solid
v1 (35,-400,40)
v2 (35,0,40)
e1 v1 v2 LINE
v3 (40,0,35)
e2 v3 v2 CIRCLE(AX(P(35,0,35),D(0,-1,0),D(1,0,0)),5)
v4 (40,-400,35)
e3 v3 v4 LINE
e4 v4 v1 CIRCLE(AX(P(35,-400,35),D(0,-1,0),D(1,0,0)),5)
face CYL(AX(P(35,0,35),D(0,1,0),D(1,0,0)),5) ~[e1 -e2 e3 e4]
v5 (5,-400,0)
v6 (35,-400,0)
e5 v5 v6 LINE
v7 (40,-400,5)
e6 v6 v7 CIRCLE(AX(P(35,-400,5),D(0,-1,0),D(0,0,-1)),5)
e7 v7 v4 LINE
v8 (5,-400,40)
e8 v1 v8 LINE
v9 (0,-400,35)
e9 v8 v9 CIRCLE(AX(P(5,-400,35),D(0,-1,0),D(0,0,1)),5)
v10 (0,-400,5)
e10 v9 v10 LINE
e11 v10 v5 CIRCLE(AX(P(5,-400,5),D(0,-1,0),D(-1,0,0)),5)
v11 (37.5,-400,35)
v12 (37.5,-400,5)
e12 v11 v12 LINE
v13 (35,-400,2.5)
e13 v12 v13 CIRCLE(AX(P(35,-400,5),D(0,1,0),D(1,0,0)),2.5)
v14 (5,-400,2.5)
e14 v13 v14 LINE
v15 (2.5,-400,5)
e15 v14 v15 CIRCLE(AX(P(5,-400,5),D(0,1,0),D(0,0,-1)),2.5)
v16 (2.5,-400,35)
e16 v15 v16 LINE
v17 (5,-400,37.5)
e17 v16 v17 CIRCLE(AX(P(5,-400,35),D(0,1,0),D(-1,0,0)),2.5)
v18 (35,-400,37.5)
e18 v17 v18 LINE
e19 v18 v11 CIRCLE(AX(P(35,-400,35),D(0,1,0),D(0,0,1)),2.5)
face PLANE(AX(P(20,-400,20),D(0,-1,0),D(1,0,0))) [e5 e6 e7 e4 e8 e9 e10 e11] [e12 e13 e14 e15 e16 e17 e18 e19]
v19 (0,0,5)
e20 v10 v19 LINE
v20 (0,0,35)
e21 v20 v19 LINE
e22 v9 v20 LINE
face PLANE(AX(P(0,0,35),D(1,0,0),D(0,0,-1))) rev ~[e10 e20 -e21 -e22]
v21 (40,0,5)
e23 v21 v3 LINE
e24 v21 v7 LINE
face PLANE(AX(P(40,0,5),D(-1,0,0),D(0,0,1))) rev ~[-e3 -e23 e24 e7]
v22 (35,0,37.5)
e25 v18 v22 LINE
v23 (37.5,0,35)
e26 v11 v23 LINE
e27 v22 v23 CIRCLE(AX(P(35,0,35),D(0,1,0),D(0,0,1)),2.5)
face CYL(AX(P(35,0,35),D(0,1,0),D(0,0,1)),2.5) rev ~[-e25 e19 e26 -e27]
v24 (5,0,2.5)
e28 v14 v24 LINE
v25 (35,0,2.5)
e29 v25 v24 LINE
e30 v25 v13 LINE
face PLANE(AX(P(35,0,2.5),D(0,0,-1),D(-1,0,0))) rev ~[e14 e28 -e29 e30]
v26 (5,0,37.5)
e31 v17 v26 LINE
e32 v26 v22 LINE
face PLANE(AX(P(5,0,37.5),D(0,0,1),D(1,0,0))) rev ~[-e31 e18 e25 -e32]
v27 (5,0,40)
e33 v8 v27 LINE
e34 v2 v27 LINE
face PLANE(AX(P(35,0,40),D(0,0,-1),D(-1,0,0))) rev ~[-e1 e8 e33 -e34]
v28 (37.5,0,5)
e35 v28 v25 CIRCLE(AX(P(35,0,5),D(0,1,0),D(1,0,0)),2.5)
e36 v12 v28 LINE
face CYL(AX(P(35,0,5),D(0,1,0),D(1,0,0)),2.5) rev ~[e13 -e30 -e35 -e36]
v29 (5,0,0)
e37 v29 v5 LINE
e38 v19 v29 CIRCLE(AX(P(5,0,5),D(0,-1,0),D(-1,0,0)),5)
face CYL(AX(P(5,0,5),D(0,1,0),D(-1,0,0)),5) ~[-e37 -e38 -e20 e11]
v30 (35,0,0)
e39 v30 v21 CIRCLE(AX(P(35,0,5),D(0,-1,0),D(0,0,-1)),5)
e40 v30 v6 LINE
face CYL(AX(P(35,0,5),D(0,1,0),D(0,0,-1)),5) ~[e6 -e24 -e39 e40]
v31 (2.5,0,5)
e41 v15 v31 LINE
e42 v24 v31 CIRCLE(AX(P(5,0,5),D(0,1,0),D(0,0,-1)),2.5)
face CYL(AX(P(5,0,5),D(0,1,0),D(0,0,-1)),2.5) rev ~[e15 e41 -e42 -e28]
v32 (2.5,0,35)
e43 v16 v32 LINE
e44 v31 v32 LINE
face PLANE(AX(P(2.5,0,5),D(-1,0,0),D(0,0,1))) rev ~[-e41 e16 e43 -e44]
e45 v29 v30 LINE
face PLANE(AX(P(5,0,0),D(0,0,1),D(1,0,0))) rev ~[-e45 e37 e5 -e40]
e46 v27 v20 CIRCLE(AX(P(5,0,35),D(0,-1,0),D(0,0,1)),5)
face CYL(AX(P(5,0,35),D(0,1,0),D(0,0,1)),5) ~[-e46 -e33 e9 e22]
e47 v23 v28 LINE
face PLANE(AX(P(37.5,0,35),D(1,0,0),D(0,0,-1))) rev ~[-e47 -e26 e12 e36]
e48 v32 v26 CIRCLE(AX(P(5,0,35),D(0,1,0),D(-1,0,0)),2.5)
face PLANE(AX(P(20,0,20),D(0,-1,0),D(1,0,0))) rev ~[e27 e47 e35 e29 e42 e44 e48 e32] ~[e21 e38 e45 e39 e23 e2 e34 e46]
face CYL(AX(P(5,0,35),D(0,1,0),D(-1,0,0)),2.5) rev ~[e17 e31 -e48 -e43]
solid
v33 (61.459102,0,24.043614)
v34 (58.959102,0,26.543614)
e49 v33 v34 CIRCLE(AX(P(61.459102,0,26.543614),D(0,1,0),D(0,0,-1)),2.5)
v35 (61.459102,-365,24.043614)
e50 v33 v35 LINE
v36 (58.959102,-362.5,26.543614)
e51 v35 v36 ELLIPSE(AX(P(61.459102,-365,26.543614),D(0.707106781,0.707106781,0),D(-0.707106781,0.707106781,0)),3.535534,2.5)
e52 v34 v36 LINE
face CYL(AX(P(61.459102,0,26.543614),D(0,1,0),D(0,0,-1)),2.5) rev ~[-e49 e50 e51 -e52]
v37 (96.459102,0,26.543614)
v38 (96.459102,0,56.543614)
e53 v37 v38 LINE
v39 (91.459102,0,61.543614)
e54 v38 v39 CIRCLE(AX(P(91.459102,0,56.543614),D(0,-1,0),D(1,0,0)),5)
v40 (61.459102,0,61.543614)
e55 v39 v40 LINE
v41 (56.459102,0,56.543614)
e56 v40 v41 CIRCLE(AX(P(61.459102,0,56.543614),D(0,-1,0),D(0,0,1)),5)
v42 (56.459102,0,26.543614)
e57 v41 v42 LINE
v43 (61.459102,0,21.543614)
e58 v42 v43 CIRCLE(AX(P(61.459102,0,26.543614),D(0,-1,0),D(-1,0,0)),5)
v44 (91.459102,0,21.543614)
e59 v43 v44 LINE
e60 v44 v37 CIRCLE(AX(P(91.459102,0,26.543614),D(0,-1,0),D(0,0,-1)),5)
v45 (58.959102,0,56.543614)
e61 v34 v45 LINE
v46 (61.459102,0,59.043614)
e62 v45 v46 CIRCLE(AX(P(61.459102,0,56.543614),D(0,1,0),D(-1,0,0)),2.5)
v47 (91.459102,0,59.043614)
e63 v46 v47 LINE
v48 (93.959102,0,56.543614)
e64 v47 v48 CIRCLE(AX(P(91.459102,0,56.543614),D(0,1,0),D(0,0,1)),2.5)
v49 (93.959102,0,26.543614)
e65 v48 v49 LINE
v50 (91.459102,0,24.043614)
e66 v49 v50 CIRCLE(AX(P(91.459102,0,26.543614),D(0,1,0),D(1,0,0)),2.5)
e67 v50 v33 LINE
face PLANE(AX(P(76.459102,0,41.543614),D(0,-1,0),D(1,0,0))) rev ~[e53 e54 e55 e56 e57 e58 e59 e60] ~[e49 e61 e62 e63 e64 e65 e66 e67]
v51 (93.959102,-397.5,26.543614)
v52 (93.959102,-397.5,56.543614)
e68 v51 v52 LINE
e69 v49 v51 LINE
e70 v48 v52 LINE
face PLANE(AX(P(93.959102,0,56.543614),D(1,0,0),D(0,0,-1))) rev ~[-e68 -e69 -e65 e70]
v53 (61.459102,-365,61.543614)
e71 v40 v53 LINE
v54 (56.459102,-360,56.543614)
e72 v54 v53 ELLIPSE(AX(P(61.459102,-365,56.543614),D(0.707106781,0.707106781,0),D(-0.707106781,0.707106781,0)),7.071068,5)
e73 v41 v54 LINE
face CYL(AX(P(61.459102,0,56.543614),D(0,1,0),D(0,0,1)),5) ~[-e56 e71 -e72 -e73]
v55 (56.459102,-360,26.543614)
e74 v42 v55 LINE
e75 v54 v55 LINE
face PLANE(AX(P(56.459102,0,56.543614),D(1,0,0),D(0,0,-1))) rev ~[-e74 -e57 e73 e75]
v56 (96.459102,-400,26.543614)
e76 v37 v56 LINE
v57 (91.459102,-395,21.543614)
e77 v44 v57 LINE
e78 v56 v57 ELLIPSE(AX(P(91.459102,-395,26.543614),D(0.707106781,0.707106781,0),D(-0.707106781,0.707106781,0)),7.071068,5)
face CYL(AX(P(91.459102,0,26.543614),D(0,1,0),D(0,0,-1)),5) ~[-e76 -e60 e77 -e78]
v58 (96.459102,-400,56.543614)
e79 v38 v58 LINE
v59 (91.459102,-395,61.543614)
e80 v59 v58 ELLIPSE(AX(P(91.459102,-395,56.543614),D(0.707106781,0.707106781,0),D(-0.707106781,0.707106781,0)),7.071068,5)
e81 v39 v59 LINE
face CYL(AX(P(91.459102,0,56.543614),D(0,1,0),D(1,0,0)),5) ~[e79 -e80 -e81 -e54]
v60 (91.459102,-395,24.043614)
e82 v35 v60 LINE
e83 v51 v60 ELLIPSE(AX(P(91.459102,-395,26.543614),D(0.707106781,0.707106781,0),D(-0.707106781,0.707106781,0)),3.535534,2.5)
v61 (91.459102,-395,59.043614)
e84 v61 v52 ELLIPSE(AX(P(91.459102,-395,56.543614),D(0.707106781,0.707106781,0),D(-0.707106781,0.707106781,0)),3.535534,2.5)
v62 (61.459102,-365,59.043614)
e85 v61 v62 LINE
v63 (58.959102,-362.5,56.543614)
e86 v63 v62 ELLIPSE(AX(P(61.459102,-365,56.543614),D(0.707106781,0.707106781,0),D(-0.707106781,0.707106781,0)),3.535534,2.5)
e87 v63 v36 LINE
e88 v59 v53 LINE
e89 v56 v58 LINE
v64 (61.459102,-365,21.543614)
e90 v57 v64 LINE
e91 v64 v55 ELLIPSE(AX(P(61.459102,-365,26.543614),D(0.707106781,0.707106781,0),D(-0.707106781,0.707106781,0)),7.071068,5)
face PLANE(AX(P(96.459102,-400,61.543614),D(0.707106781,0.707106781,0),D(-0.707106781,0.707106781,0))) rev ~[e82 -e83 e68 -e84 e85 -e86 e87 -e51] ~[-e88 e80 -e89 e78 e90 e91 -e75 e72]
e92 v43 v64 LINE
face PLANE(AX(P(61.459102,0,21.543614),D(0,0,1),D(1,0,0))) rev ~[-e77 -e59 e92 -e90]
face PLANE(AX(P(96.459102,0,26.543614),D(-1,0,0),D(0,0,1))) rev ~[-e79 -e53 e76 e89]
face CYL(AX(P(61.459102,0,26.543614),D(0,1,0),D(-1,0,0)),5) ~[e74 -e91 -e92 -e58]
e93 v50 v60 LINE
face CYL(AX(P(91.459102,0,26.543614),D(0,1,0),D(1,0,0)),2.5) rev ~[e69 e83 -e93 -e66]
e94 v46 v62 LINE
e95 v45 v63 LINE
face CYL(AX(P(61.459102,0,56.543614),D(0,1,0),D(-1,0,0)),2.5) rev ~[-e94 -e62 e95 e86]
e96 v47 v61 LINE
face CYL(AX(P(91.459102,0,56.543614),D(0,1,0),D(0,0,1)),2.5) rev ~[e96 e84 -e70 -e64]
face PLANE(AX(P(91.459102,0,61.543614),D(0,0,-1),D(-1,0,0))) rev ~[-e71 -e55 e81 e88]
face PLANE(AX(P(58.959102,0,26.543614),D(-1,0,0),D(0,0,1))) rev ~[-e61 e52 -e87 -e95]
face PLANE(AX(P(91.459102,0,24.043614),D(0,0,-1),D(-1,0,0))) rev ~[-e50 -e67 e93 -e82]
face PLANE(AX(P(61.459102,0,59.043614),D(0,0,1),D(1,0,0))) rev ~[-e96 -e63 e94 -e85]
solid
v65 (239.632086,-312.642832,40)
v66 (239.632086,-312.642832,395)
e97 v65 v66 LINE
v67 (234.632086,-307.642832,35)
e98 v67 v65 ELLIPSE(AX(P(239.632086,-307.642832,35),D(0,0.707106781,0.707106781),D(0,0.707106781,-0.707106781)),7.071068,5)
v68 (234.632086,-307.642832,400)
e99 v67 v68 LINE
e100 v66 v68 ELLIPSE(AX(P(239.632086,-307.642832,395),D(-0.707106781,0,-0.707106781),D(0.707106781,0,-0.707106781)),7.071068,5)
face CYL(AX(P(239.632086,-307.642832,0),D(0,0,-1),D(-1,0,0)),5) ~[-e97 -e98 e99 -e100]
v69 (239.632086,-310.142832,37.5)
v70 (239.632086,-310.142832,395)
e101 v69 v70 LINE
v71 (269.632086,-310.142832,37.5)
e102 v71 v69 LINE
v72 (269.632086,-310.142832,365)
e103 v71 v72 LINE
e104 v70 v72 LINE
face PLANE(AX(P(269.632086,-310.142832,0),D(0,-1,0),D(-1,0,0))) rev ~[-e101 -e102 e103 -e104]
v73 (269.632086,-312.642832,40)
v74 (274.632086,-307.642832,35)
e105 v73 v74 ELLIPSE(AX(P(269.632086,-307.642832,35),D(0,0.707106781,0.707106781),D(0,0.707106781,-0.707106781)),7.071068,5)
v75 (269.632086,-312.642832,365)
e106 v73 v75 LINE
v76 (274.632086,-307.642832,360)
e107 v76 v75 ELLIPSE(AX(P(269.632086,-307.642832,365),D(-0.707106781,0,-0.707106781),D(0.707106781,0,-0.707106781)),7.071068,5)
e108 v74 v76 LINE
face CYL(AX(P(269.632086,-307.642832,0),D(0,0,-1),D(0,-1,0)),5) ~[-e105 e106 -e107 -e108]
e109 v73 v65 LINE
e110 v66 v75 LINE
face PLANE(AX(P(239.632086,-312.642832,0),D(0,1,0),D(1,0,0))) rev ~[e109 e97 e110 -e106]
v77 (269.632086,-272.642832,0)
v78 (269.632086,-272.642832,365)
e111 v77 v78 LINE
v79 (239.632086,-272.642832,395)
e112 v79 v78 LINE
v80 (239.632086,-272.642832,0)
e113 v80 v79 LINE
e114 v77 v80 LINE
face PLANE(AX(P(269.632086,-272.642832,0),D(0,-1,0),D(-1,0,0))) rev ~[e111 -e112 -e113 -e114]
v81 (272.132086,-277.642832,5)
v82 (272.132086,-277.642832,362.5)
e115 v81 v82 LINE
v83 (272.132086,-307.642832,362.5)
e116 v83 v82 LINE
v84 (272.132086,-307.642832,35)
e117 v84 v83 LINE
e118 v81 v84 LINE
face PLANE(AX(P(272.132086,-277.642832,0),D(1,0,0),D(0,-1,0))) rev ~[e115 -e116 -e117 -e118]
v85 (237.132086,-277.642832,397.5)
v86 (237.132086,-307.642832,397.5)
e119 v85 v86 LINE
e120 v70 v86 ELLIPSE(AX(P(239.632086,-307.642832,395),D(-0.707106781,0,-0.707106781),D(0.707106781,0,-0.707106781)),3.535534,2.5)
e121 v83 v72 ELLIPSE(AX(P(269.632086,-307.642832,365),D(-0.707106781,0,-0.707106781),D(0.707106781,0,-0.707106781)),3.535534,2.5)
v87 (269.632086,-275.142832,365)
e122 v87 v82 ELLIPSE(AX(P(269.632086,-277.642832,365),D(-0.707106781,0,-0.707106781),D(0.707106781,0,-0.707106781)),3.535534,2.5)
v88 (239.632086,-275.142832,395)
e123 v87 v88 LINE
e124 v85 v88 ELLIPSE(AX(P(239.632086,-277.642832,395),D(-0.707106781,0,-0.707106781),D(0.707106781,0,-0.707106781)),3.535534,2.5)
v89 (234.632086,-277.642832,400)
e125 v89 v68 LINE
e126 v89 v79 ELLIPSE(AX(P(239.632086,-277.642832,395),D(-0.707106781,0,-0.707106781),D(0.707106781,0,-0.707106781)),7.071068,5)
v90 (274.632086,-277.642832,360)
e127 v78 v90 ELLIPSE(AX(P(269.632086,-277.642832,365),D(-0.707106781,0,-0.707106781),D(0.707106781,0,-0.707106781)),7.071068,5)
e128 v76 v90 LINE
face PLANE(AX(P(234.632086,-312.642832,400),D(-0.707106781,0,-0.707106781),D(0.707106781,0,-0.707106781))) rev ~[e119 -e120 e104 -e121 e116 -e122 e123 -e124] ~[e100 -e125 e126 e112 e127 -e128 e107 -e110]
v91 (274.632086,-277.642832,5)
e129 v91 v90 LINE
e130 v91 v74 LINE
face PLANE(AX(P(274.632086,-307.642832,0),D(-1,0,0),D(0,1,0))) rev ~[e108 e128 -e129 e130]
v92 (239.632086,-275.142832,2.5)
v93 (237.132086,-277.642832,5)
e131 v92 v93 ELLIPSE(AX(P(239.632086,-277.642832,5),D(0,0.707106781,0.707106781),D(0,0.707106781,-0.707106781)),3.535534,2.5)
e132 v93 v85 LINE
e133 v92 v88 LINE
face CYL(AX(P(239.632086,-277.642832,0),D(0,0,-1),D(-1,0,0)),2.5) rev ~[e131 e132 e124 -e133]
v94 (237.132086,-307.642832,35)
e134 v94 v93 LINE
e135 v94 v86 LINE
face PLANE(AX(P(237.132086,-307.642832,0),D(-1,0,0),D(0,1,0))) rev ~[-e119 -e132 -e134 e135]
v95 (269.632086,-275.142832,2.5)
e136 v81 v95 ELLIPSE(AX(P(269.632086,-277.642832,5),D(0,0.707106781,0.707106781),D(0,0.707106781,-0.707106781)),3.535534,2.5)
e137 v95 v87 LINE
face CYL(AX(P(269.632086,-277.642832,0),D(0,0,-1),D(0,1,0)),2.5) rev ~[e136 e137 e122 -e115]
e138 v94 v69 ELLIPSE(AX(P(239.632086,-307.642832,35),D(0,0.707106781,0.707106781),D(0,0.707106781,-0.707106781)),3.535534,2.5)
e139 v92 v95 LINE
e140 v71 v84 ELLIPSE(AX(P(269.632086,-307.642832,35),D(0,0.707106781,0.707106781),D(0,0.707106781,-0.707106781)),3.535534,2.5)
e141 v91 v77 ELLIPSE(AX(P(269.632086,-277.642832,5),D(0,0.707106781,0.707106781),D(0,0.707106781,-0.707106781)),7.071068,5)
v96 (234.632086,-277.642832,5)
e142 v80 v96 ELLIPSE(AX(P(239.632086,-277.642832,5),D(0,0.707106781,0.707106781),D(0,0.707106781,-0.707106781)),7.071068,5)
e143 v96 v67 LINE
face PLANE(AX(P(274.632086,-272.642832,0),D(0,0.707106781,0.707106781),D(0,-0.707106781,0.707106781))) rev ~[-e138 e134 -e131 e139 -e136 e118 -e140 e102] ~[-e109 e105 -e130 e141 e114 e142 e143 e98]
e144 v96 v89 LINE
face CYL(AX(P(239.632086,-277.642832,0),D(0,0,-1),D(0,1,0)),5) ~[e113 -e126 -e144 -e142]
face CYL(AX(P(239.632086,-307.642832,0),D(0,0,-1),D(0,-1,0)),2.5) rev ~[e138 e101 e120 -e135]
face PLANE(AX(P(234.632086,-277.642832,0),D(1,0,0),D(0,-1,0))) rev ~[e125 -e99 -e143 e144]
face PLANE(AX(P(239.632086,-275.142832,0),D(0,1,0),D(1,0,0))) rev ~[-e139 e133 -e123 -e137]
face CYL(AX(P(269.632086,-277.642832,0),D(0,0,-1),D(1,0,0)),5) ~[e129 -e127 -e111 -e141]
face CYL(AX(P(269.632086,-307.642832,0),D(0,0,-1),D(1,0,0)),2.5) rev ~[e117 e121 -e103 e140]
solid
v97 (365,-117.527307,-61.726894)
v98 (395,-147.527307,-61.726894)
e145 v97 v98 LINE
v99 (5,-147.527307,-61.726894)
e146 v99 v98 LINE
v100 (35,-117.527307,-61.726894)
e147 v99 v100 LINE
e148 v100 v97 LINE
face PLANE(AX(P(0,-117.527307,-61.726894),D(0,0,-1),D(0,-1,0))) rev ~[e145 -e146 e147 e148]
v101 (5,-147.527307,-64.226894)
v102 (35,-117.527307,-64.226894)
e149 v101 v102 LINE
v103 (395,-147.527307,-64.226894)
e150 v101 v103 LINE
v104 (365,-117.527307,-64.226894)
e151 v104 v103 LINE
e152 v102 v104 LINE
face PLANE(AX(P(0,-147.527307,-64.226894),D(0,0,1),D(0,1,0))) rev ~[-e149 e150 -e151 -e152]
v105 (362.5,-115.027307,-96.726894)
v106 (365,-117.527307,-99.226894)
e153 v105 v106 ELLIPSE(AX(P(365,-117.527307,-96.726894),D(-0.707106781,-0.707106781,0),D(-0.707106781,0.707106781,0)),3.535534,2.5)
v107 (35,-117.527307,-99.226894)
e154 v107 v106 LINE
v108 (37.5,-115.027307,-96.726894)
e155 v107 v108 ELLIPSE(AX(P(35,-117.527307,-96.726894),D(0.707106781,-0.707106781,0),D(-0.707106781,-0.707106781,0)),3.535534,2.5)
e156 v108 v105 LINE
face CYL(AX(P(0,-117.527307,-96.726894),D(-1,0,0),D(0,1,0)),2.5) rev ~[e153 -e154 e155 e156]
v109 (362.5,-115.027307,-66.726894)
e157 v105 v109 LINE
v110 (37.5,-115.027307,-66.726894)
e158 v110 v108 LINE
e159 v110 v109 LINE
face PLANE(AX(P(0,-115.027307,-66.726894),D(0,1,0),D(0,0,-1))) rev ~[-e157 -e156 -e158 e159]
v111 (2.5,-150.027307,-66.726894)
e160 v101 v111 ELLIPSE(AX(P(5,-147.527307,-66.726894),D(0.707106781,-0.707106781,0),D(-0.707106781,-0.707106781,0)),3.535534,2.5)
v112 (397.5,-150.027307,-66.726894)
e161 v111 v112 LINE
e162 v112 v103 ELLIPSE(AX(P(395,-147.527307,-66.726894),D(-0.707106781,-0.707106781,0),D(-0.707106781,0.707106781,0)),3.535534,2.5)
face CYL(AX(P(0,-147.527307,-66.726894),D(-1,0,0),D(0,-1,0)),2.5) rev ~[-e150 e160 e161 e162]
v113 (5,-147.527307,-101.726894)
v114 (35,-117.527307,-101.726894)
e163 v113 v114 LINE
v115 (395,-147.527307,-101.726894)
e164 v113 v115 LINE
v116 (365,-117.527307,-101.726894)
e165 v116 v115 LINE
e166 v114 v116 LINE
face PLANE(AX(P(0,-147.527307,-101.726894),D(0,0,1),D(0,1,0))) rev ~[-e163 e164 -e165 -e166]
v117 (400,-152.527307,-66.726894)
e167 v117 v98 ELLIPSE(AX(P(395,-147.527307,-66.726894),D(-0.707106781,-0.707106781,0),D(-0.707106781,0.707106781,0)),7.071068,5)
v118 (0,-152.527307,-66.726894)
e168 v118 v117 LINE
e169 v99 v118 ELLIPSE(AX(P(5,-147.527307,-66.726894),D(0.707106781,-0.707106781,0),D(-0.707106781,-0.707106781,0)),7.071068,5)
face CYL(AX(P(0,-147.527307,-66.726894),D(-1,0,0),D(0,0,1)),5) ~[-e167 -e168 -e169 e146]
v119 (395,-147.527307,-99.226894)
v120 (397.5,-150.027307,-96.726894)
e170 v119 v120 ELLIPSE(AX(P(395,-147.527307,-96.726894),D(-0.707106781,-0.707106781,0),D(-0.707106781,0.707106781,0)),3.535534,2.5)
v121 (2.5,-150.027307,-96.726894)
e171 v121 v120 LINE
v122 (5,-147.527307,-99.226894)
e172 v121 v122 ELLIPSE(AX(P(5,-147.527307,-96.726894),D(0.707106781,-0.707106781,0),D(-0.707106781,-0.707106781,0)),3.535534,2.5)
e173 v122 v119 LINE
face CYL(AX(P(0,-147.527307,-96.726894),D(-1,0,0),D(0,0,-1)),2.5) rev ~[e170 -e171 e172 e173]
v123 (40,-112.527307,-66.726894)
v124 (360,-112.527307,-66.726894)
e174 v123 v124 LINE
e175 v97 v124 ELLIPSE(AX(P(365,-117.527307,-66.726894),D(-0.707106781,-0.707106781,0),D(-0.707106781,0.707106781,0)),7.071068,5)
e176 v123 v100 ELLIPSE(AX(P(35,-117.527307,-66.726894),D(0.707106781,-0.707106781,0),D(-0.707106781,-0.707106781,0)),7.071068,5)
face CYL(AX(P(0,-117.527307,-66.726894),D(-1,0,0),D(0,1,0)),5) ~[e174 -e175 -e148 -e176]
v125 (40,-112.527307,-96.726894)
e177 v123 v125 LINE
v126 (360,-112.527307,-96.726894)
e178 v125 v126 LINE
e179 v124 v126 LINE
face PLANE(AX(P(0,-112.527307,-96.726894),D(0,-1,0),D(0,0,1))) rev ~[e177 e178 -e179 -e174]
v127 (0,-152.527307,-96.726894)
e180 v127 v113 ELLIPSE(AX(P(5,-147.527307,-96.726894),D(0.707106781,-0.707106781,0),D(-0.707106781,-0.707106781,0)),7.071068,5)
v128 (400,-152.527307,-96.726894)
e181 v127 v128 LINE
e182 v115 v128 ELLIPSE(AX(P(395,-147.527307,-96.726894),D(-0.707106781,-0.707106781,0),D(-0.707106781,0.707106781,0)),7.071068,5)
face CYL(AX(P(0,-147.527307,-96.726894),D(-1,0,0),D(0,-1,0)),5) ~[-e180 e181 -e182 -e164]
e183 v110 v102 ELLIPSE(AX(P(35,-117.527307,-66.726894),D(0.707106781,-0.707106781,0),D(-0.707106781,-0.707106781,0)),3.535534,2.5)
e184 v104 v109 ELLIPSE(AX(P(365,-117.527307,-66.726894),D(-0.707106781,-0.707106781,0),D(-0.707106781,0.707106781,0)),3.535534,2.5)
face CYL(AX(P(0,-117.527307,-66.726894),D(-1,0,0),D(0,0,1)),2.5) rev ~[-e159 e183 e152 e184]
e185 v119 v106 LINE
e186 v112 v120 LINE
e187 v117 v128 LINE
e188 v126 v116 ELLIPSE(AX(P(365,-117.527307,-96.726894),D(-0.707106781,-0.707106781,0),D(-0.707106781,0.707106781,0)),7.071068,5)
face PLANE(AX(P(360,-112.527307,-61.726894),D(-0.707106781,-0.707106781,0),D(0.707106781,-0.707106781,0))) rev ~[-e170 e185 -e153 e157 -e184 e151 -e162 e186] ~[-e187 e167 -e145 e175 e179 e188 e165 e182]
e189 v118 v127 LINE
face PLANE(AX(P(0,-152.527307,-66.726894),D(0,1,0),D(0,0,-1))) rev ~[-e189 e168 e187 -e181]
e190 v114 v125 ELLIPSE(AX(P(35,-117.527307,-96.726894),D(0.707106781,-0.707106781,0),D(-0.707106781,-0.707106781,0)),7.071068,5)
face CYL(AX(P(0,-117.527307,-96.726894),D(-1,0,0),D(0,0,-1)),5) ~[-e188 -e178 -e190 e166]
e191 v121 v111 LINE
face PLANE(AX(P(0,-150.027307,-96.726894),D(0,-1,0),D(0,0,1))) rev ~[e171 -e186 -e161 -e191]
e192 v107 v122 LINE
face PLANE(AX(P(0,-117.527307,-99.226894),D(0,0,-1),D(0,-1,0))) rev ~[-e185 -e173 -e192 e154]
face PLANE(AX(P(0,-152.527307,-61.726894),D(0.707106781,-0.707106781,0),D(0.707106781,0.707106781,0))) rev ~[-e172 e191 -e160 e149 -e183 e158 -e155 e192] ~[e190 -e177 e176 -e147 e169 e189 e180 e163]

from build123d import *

# Parameters (mm, degrees)
F1_DEPTH  = 400
F3_DEPTH  = 400
F5_DEPTH  = 40
F7_DEPTH  = 40
F9_DEPTH  = 40
F11_DEPTH = 400
F13_DEPTH = 163.2715079019
F15_DEPTH = 400
F17_DEPTH = 274.6330855618
F19_DEPTH = 312.6438318024
F20_DEPTH = 400


with BuildPart() as f1:
    # F0 (on Front) → F1 (new body)
    with BuildSketch(Plane.XZ):
        with BuildLine():
            ThreePointArc((0, 5), (1.4644660941, 1.4644660941), (5, 0))
            Line((5, 0), (35, 0))
            ThreePointArc((35, 0), (38.5355339059, 1.4644660941), (40, 5))
            Line((40, 5), (40, 35))
            ThreePointArc((40, 35), (38.5355339059, 38.5355339059), (35, 40))
            Line((35, 40), (5, 40))
            ThreePointArc((5, 40), (1.4644660941, 38.5355339059), (0, 35))
            Line((0, 35), (0, 5))
        make_face()
        with BuildLine():
            Line((35, 2.5), (5, 2.5))
            ThreePointArc((5, 2.5), (3.232233047, 3.232233047), (2.5, 5))
            Line((2.5, 5), (2.5, 35))
            ThreePointArc((2.5, 35), (3.232233047, 36.767766953), (5, 37.5))
            Line((5, 37.5), (35, 37.5))
            ThreePointArc((35, 37.5), (36.767766953, 36.767766953), (37.5, 35))
            Line((37.5, 35), (37.5, 5))
            ThreePointArc((37.5, 5), (36.767766953, 3.232233047), (35, 2.5))
        make_face(mode=Mode.SUBTRACT)
    extrude(amount=F1_DEPTH)

    # F4 (on face) → F5 (cut)
    with BuildSketch(Plane.XY.offset(40)):
        Polygon((40, -400), (40, -360), (0, -400), align=None)
    extrude(amount=-F5_DEPTH, mode=Mode.SUBTRACT)

    # F6 (on face) → F7 (cut)
    with BuildSketch(Plane.YZ.offset(40)):
        Polygon((0, 40), (-40, 40), (0, 0), align=None)
    extrude(amount=-F7_DEPTH, mode=Mode.SUBTRACT)

    # F0 (on Front) → F20 (join)
    with BuildSketch(Plane.XZ):
        with BuildLine():
            ThreePointArc((0, 5), (1.4644660941, 1.4644660941), (5, 0))
            Line((5, 0), (35, 0))
            ThreePointArc((35, 0), (38.5355339059, 1.4644660941), (40, 5))
            Line((40, 5), (40, 35))
            ThreePointArc((40, 35), (38.5355339059, 38.5355339059), (35, 40))
            Line((35, 40), (5, 40))
            ThreePointArc((5, 40), (1.4644660941, 38.5355339059), (0, 35))
            Line((0, 35), (0, 5))
        make_face()
        with BuildLine():
            Line((35, 2.5), (5, 2.5))
            ThreePointArc((5, 2.5), (3.232233047, 3.232233047), (2.5, 5))
            Line((2.5, 5), (2.5, 35))
            ThreePointArc((2.5, 35), (3.232233047, 36.767766953), (5, 37.5))
            Line((5, 37.5), (35, 37.5))
            ThreePointArc((35, 37.5), (36.767766953, 36.767766953), (37.5, 35))
            Line((37.5, 35), (37.5, 5))
            ThreePointArc((37.5, 5), (36.767766953, 3.232233047), (35, 2.5))
        make_face(mode=Mode.SUBTRACT)
    extrude(amount=F20_DEPTH)


with BuildPart() as f3:
    # F2 (on Right) → F3 (new body)
    with BuildSketch(Plane.YZ):
        with BuildLine():
            ThreePointArc((-152.5273066759, -96.7268937826), (-151.0628405818, -100.2624276885), (-147.5273066759, -101.7268937826))
            Line((-147.5273066759, -101.7268937826), (-117.5273066759, -101.7268937826))
            ThreePointArc((-117.5273066759, -101.7268937826), (-113.99177277, -100.2624276885), (-112.5273066759, -96.7268937826))
            Line((-112.5273066759, -96.7268937826), (-112.5273066759, -66.7268937826))
            ThreePointArc((-112.5273066759, -66.7268937826), (-113.99177277, -63.1913598767), (-117.5273066759, -61.7268937826))
            Line((-117.5273066759, -61.7268937826), (-147.5273066759, -61.7268937826))
            ThreePointArc((-147.5273066759, -61.7268937826), (-151.0628405818, -63.1913598767), (-152.5273066759, -66.7268937826))
            Line((-152.5273066759, -66.7268937826), (-152.5273066759, -96.7268937826))
        make_face()
        with BuildLine():
            Line((-117.5273066759, -99.2268937826), (-147.5273066759, -99.2268937826))
            ThreePointArc((-147.5273066759, -99.2268937826), (-149.2950736289, -98.4946607356), (-150.0273066759, -96.7268937826))
            Line((-150.0273066759, -96.7268937826), (-150.0273066759, -66.7268937826))
            ThreePointArc((-150.0273066759, -66.7268937826), (-149.2950736289, -64.9591268296), (-147.5273066759, -64.2268937826))
            Line((-147.5273066759, -64.2268937826), (-117.5273066759, -64.2268937826))
            ThreePointArc((-117.5273066759, -64.2268937826), (-115.7595397229, -64.9591268296), (-115.0273066759, -66.7268937826))
            Line((-115.0273066759, -66.7268937826), (-115.0273066759, -96.7268937826))
            ThreePointArc((-115.0273066759, -96.7268937826), (-115.7595397229, -98.4946607356), (-117.5273066759, -99.2268937826))
        make_face(mode=Mode.SUBTRACT)
    extrude(amount=F3_DEPTH)

    # F8 (on face) → F9 (cut)
    with BuildSketch(Plane.XY.offset(-61.7268937826)):
        Polygon((40, -112.5273066759), (0, -112.5273066759), (0, -152.5273066759), align=None)
        Polygon((400, -112.5273066759), (360, -112.5273066759), (400, -152.5273066759), align=None)
    extrude(amount=-F9_DEPTH, mode=Mode.SUBTRACT)


with BuildPart() as f11:
    # F10 (on Front) → F11 (new body)
    with BuildSketch(Plane.XZ):
        with BuildLine():
            ThreePointArc((56.4591023326, 26.5436141193), (57.9235684267, 23.0080802134), (61.4591023326, 21.5436141193))
            Line((61.4591023326, 21.5436141193), (91.4591023326, 21.5436141193))
            ThreePointArc((91.4591023326, 21.5436141193), (94.9946362385, 23.0080802134), (96.4591023326, 26.5436141193))
            Line((96.4591023326, 26.5436141193), (96.4591023326, 56.5436141193))
            ThreePointArc((96.4591023326, 56.5436141193), (94.9946362385, 60.0791480252), (91.4591023326, 61.5436141193))
            Line((91.4591023326, 61.5436141193), (61.4591023326, 61.5436141193))
            ThreePointArc((61.4591023326, 61.5436141193), (57.9235684267, 60.0791480252), (56.4591023326, 56.5436141193))
            Line((56.4591023326, 56.5436141193), (56.4591023326, 26.5436141193))
        make_face()
        with BuildLine():
            Line((91.4591023326, 24.0436141193), (61.4591023326, 24.0436141193))
            ThreePointArc((61.4591023326, 24.0436141193), (59.6913353796, 24.7758471663), (58.9591023326, 26.5436141193))
            Line((58.9591023326, 26.5436141193), (58.9591023326, 56.5436141193))
            ThreePointArc((58.9591023326, 56.5436141193), (59.6913353796, 58.3113810723), (61.4591023326, 59.0436141193))
            Line((61.4591023326, 59.0436141193), (91.4591023326, 59.0436141193))
            ThreePointArc((91.4591023326, 59.0436141193), (93.2268692856, 58.3113810723), (93.9591023326, 56.5436141193))
            Line((93.9591023326, 56.5436141193), (93.9591023326, 26.5436141193))
            ThreePointArc((93.9591023326, 26.5436141193), (93.2268692856, 24.7758471663), (91.4591023326, 24.0436141193))
        make_face(mode=Mode.SUBTRACT)
    extrude(amount=F11_DEPTH)

    # F12 (on face) → F13 (cut, through all)
    with BuildSketch(Plane.XY.offset(61.5436141193)):
        Polygon((56.4591023326, -360), (56.4591023326, -400), (96.4591023326, -400), align=None)
    extrude(amount=-F13_DEPTH, mode=Mode.SUBTRACT)


with BuildPart() as f15:
    # F14 (on Top) → F15 (new body)
    with BuildSketch(Plane.XY):
        with BuildLine():
            ThreePointArc((234.6320855618, -307.6428318024), (236.0965516558, -311.1783657083), (239.6320855618, -312.6428318024))
            Line((239.6320855618, -312.6428318024), (269.6320855618, -312.6428318024))
            ThreePointArc((269.6320855618, -312.6428318024), (273.1676194677, -311.1783657083), (274.6320855618, -307.6428318024))
            Line((274.6320855618, -307.6428318024), (274.6320855618, -277.6428318024))
            ThreePointArc((274.6320855618, -277.6428318024), (273.1676194677, -274.1072978964), (269.6320855618, -272.6428318024))
            Line((269.6320855618, -272.6428318024), (239.6320855618, -272.6428318024))
            ThreePointArc((239.6320855618, -272.6428318024), (236.0965516558, -274.1072978964), (234.6320855618, -277.6428318024))
            Line((234.6320855618, -277.6428318024), (234.6320855618, -307.6428318024))
        make_face()
        with BuildLine():
            Line((269.6320855618, -310.1428318024), (239.6320855618, -310.1428318024))
            ThreePointArc((239.6320855618, -310.1428318024), (237.8643186088, -309.4105987553), (237.1320855618, -307.6428318024))
            Line((237.1320855618, -307.6428318024), (237.1320855618, -277.6428318024))
            ThreePointArc((237.1320855618, -277.6428318024), (237.8643186088, -275.8750648494), (239.6320855618, -275.1428318024))
            Line((239.6320855618, -275.1428318024), (269.6320855618, -275.1428318024))
            ThreePointArc((269.6320855618, -275.1428318024), (271.3998525147, -275.8750648494), (272.1320855618, -277.6428318024))
            Line((272.1320855618, -277.6428318024), (272.1320855618, -307.6428318024))
            ThreePointArc((272.1320855618, -307.6428318024), (271.3998525147, -309.4105987553), (269.6320855618, -310.1428318024))
        make_face(mode=Mode.SUBTRACT)
    extrude(amount=F15_DEPTH)

    # F16 (on face) → F17 (cut, through all)
    with BuildSketch(Plane.YZ.offset(274.6320855618)):
        Polygon((-312.6428318024, 40), (-312.6428318024, 0), (-272.6428318024, 0), align=None)
    extrude(amount=-F17_DEPTH, mode=Mode.SUBTRACT)

    # F18 (on face) → F19 (cut, through all)
    with BuildSketch(Plane.XZ.offset(312.6428318024)):
        Polygon((274.6320855618, 400), (234.6320855618, 400), (274.6320855618, 360), align=None)
    extrude(amount=-F19_DEPTH, mode=Mode.SUBTRACT)


solid = Compound([f1.part, f3.part, f11.part, f15.part])
